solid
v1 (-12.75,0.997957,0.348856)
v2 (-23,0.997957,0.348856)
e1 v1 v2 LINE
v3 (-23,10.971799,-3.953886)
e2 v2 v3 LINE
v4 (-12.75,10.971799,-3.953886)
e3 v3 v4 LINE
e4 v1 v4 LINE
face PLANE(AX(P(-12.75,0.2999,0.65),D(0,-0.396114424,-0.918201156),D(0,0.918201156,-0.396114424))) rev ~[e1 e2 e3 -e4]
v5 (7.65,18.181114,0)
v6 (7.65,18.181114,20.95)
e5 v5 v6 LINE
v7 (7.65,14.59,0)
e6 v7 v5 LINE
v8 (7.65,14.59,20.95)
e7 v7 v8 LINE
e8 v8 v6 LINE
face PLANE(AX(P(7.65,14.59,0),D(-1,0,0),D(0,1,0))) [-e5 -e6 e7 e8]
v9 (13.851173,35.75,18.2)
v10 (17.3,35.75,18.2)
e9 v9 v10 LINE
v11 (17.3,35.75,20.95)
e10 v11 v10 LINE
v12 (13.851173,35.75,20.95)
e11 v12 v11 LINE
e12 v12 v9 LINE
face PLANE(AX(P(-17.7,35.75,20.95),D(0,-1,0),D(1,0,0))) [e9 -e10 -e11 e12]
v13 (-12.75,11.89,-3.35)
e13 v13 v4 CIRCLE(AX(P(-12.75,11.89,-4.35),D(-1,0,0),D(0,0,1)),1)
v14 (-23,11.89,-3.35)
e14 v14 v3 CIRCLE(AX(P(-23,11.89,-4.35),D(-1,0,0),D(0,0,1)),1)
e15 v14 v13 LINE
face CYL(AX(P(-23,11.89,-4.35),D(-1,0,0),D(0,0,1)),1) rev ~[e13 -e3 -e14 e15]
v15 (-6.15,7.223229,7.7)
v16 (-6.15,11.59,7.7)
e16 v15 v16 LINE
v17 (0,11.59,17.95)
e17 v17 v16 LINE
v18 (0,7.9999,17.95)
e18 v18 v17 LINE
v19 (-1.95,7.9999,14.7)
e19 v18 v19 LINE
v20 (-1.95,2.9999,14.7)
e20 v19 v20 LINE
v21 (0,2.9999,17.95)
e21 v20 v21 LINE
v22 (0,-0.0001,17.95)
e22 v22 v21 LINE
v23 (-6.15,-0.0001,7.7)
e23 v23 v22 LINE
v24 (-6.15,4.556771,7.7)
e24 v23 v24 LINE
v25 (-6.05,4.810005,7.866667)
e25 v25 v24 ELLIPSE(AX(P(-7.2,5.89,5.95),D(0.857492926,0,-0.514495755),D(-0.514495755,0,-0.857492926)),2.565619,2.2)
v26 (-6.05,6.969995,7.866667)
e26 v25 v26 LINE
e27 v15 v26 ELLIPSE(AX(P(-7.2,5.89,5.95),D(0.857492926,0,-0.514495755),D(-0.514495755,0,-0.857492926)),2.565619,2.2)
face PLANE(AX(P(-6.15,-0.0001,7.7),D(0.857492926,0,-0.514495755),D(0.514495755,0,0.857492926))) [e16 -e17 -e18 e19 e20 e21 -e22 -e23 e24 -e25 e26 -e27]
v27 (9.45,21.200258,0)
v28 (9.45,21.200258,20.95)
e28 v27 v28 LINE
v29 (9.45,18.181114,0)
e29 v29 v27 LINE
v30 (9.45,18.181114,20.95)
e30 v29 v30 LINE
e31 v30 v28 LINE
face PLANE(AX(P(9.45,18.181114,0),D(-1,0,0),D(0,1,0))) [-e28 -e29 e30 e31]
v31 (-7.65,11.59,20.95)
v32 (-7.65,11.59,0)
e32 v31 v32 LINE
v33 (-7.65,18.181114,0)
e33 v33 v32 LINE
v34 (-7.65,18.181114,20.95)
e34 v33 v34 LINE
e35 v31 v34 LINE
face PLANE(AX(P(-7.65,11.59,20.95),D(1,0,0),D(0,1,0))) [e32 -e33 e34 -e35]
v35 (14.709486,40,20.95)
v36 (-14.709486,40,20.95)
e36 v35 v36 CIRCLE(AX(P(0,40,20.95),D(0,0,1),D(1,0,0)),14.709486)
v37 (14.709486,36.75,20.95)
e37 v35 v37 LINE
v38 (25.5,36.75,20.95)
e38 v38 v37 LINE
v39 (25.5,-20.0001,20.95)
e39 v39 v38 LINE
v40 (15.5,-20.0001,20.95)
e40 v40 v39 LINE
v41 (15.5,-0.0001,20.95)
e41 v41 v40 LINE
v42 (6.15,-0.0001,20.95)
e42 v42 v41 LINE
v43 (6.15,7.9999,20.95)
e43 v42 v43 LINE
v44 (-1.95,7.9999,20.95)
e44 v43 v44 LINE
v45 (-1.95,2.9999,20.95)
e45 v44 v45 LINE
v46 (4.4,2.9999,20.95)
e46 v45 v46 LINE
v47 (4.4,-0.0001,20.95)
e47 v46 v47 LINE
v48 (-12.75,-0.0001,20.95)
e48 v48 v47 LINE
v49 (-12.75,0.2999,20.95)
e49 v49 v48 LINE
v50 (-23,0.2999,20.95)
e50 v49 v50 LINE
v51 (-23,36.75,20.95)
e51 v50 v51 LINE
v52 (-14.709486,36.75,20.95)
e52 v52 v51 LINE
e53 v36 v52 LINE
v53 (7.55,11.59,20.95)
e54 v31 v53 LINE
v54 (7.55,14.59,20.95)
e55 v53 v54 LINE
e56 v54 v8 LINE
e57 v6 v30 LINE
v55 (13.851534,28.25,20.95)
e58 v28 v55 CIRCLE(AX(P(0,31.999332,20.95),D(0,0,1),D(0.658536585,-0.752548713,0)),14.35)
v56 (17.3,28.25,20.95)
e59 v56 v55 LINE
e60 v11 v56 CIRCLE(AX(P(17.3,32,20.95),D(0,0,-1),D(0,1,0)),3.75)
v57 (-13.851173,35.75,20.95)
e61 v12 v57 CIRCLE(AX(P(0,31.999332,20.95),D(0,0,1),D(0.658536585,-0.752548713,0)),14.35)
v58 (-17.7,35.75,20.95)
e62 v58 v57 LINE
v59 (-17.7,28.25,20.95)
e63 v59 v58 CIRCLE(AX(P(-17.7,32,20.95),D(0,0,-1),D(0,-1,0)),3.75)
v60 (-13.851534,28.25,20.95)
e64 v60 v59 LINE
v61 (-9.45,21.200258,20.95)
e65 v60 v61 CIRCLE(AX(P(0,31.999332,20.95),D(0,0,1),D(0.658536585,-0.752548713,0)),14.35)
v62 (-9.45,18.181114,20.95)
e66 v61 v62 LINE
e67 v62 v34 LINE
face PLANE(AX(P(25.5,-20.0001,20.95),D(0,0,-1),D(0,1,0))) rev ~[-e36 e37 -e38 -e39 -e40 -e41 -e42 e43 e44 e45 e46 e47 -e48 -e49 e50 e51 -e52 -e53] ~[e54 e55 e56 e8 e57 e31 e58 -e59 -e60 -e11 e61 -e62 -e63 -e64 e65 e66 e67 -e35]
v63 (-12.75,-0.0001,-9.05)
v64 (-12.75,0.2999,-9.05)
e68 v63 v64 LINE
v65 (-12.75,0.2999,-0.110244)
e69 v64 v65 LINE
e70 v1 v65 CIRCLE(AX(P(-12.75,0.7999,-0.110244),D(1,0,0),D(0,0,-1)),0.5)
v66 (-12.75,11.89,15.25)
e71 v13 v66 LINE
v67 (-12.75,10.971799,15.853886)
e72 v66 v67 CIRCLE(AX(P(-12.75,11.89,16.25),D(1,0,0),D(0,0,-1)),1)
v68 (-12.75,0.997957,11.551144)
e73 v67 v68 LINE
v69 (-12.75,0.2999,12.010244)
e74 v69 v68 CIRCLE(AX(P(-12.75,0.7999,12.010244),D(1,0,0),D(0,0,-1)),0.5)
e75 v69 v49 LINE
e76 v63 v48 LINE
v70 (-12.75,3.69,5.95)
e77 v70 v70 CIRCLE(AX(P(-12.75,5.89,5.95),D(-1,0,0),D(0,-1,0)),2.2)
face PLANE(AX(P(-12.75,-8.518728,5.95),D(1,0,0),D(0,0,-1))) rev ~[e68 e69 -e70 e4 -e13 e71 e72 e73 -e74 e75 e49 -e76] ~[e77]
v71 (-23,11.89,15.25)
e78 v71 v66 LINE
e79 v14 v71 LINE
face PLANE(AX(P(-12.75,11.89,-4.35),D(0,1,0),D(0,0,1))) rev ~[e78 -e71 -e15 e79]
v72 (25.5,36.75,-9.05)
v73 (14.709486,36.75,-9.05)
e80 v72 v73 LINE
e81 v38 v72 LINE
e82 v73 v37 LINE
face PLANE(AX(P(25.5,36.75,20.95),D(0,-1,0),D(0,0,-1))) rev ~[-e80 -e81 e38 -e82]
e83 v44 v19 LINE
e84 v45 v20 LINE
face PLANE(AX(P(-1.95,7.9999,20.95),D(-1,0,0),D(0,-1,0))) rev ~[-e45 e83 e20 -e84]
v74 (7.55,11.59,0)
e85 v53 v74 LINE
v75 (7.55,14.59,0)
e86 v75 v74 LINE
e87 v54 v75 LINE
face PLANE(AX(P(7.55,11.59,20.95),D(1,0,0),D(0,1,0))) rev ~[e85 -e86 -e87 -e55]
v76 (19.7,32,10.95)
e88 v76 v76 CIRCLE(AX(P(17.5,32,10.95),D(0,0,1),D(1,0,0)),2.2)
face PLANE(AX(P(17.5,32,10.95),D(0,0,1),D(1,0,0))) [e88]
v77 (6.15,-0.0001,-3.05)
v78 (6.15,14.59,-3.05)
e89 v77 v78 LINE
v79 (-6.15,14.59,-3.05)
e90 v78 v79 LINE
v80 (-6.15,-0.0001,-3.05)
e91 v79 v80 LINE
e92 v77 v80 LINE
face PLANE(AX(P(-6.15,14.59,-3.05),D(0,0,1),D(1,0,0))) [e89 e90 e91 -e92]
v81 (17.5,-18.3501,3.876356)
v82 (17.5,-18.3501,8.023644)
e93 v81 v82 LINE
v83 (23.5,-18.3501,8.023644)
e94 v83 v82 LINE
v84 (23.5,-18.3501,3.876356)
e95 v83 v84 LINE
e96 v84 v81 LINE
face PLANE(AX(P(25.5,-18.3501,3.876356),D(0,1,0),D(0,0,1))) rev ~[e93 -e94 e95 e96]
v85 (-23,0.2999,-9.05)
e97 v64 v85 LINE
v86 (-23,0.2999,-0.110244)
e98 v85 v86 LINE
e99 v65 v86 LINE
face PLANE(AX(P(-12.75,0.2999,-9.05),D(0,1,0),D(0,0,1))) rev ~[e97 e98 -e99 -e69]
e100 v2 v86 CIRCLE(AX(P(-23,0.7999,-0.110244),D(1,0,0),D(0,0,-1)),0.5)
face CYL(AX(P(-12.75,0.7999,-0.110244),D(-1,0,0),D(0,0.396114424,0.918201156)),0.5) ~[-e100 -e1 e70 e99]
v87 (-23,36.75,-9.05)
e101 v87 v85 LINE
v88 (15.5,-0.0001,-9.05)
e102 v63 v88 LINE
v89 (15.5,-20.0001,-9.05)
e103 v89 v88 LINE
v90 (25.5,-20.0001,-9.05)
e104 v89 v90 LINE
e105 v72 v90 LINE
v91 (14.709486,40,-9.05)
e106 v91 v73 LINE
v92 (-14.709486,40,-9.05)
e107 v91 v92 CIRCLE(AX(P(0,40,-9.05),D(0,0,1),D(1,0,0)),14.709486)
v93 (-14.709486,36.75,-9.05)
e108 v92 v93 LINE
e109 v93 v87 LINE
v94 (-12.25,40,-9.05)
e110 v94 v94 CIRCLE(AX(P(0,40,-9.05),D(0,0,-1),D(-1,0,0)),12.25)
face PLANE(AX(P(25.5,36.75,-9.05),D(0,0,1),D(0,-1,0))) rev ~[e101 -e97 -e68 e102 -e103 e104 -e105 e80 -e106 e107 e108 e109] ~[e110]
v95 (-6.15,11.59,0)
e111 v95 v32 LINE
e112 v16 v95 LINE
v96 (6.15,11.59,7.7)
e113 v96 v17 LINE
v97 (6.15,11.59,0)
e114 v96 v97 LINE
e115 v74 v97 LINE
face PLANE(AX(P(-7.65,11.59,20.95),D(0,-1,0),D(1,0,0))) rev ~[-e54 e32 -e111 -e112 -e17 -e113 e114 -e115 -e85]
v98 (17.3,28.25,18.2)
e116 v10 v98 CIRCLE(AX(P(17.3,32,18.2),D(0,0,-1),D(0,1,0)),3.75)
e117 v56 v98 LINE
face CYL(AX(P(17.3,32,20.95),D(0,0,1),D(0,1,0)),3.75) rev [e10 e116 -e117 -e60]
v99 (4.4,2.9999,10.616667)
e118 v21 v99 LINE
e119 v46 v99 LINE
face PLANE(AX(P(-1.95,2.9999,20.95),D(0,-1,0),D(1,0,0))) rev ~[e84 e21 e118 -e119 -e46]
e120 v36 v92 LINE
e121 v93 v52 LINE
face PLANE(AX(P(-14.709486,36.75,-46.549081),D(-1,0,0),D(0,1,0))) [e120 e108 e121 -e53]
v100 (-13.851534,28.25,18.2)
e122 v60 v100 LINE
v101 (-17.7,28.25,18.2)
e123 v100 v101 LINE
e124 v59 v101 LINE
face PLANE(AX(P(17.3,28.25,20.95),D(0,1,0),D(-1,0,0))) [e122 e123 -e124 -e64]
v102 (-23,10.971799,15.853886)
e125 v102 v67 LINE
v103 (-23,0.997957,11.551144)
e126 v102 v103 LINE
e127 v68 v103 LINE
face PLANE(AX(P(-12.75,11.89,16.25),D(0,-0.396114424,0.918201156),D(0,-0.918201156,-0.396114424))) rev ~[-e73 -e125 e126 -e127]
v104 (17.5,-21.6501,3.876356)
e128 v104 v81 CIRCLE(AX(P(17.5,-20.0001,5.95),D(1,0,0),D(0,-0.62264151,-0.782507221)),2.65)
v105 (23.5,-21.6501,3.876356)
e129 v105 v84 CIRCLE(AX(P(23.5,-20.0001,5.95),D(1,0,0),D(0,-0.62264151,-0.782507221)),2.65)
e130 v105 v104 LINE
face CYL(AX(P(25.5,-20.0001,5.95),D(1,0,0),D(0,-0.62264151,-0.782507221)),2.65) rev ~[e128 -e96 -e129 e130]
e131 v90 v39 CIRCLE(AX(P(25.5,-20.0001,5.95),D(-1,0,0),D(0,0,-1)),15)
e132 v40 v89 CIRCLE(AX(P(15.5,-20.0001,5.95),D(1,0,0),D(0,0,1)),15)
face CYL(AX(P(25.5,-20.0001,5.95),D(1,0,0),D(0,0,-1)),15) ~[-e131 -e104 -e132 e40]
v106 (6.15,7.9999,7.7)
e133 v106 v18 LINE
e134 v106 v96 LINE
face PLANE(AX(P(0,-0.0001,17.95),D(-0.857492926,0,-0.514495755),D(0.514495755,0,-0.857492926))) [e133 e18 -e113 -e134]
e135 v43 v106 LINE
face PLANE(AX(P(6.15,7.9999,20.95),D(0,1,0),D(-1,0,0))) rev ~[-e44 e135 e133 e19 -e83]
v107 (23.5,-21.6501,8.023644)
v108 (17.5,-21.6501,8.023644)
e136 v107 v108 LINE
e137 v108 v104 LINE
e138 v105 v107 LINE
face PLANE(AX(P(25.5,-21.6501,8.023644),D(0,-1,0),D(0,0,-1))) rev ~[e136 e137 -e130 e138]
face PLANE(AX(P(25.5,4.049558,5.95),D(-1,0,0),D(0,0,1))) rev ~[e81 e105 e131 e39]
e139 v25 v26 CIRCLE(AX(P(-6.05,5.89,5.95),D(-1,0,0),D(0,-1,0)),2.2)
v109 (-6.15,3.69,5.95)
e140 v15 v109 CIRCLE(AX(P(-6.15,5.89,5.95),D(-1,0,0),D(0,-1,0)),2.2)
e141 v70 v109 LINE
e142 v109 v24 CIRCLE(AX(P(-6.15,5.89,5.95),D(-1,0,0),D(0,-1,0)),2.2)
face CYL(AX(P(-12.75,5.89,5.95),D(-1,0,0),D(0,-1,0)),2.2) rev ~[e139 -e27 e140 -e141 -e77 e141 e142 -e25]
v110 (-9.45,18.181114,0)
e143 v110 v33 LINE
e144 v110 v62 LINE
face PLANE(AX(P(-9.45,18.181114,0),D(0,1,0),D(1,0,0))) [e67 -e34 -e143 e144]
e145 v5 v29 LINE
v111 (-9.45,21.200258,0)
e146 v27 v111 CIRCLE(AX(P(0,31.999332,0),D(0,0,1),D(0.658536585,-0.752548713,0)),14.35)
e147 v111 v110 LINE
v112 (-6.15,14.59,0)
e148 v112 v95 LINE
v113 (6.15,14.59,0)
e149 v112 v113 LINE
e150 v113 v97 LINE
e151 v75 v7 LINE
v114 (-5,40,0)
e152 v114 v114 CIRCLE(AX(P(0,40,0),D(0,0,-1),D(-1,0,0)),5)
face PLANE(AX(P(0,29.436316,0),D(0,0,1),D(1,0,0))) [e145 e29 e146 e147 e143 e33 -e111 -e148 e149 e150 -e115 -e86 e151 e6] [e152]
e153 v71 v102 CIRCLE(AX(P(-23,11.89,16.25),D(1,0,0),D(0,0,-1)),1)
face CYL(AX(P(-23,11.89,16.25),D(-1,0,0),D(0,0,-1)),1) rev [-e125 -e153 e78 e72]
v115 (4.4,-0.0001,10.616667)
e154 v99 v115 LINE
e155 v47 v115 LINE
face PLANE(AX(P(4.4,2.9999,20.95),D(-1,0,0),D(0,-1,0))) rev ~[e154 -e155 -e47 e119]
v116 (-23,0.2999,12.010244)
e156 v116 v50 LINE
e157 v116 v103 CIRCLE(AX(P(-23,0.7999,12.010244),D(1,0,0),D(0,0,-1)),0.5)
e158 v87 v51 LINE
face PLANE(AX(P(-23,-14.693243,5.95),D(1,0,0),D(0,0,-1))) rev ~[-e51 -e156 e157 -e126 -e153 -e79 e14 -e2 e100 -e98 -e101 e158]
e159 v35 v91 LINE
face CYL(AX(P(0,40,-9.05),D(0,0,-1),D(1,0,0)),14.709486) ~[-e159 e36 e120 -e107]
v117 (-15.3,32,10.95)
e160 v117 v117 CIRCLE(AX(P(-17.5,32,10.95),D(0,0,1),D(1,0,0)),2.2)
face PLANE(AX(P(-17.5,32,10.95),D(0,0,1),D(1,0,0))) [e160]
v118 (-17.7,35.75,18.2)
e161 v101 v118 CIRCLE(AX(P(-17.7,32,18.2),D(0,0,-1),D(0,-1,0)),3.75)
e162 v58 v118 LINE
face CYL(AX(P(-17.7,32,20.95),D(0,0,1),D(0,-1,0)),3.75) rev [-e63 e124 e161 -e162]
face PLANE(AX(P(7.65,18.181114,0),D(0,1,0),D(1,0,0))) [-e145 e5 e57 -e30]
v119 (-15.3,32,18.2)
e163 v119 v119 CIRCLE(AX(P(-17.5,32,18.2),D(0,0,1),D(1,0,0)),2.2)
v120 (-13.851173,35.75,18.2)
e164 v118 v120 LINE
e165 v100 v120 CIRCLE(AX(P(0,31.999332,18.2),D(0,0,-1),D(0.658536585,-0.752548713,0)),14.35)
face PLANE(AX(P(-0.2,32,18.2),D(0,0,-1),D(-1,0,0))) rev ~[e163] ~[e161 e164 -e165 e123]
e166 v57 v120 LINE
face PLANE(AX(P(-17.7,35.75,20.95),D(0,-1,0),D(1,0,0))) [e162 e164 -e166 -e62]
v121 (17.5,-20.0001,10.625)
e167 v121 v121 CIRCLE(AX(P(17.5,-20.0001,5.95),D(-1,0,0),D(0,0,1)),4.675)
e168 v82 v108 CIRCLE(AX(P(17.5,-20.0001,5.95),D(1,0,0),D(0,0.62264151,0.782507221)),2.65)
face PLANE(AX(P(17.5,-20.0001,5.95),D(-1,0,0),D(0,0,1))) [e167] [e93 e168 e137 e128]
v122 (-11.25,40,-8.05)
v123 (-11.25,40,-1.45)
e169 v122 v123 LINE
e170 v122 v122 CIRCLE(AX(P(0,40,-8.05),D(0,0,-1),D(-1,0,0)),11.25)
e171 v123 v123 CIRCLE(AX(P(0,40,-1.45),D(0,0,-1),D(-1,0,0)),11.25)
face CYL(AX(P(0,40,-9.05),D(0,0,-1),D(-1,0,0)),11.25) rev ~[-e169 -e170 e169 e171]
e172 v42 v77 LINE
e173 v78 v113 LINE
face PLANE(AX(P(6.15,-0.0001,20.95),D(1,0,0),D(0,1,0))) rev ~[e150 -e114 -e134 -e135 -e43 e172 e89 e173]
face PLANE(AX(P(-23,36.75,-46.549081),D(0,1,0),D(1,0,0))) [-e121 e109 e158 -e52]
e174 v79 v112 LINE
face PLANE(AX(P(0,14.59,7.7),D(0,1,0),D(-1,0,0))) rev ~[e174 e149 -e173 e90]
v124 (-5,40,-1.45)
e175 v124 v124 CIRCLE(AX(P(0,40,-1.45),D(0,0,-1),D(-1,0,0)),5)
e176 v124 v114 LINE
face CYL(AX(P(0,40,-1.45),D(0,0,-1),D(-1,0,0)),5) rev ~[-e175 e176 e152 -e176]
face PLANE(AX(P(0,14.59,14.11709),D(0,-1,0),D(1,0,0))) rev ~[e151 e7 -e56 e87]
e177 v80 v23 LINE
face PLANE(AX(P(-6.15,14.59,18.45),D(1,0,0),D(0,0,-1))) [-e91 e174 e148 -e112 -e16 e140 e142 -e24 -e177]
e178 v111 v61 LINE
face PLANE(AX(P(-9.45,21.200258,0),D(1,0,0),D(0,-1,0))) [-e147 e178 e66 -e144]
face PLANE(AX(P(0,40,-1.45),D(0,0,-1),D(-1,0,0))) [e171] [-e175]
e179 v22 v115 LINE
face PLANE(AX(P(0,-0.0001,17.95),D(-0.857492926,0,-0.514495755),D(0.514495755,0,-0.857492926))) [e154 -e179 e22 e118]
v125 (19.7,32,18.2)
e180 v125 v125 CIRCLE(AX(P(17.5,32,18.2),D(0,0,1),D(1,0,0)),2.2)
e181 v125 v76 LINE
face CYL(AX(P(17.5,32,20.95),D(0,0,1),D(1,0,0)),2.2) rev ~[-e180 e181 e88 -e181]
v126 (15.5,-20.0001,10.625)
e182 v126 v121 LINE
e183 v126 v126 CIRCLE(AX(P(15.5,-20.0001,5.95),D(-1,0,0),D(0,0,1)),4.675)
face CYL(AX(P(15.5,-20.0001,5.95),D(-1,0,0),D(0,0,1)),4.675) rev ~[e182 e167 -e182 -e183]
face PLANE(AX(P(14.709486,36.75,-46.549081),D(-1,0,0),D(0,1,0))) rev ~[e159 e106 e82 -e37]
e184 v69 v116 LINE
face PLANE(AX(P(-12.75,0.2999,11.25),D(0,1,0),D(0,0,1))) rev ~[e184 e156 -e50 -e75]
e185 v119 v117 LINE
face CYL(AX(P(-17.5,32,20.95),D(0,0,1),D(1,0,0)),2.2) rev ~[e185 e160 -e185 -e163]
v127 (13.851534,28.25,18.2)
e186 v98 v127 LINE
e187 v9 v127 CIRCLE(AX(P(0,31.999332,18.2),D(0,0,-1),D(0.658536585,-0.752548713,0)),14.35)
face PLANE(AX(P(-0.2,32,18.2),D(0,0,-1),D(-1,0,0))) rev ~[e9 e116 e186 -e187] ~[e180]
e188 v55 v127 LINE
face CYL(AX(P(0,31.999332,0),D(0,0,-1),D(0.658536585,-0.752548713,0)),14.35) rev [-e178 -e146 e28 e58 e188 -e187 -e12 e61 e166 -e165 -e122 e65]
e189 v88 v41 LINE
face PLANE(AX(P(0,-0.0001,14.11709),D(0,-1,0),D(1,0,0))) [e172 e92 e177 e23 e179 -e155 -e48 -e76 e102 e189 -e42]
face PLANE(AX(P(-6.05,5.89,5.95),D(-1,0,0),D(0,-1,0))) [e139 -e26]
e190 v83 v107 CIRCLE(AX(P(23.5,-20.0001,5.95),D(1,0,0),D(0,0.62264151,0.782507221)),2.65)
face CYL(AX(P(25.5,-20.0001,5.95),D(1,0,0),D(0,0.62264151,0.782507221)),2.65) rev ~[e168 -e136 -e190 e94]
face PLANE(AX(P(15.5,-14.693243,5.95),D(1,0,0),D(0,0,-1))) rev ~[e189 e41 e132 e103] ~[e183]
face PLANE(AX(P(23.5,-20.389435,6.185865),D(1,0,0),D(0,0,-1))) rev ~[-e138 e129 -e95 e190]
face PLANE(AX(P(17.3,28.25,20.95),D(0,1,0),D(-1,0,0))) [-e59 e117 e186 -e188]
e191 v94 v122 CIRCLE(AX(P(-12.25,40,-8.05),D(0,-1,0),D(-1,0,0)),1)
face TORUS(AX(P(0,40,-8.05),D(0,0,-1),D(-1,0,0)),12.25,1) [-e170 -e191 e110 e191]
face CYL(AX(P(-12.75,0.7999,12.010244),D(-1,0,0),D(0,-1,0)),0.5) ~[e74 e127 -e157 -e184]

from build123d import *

# Parameters (mm, degrees)
BOSS_EXTRUDE1_DEPTH     = 20.95
BOSS_EXTRUDE2_START     = -9.05
BOSS_EXTRUDE2_DEPTH     = 9.05
SKETCH6_R               = 2.2
CUT_EXTRUDE2_DEPTH      = 10
CUT_EXTRUDE3_DEPTH      = 2.75
CUT_EXTRUDE4_DEPTH      = 67.499081444
CUT_EXTRUDE4_DEPTH_BACK = 67.499081444
SKETCH8_W               = 8.290514233
SKETCH8_H               = 3.25
SKETCH11_R              = 11.25
BEARING_HOLE_DEPTH      = 7.6
SKETCH9_W               = 12.3
SKETCH9_H               = 21.5
WIRE_HOLE_DEPTH         = 62.274898109
SKETCH12_W              = 46
SKETCH12_H              = 30
BOSS_EXTRUDE3_DEPTH     = 0.0001
BOSS_EXTRUDE4_DEPTH     = 7.5
BOSS_EXTRUDE5_START     = -7.5
BOSS_EXTRUDE5_DEPTH     = 7.5
BOSS_EXTRUDE9_START     = 2.5
BOSS_EXTRUDE9_DEPTH     = 2.5
SKETCH15_R              = 4
CUT_EXTRUDE5_DEPTH      = 77.054456365
SKETCH17_R              = 6.169612062
SHAT_HOLE_DEPTH         = 10
SKETCH18_R              = 4
BOSS_EXTRUDE7_DEPTH     = 14
SKETCH19_R              = 4.675
CUT_EXTRUDE6_DEPTH      = 2
SKETCH24_R              = 5
CUT_EXTRUDE7_DEPTH      = 65.382744838
FILLET1_R               = 1
SKETCH25_W              = 8.843315878
SKETCH25_H              = 4.834346013
BOSS_EXTRUDE10_DEPTH    = 2
SKETCH27_W              = 12.3
SKETCH27_H              = 21.5
CUT_EXTRUDE8_DEPTH      = 60.56786481
BOSS_EXTRUDE11_DEPTH    = 14.5901
CUT_EXTRUDE9_REACH      = 69.405
SKETCH29_W              = 15.2
SKETCH29_H              = 3
CUT_EXTRUDE14_START     = -10.25
CUT_EXTRUDE14_DEPTH     = 10.25
SKETCH34_R              = 6.901355235
CUT_EXTRUDE15_DEPTH     = 5
FILLET2_R               = 0.5
SKETCH35_R              = 2.2
CUT_EXTRUDE16_DEPTH     = 6.7
CUT_EXTRUDE17_DEPTH     = 10.25
CUT_EXTRUDE18_REACH     = 69.405


with BuildPart() as part:
    # Sketch2 → Boss-Extrude1 (new body)
    with BuildSketch(Plane.XY):
        with BuildLine():
            Line((-14.709485767, 40), (-23, 40))
            Line((-23, 40), (-23, 0))
            Line((-23, 0), (23, 0))
            Line((23, 0), (23, 40))
            Line((23, 40), (14.709485767, 40))
            ThreePointArc((14.709485767, 40), (0, 54.709485767), (-14.709485767, 40))
        make_face()
        with BuildLine():
            Line((-7.65, 18.18111404), (-7.65, 14.59))
            Line((-7.65, 14.59), (7.65, 14.59))
            Line((7.65, 14.59), (7.65, 18.18111404))
            Line((7.65, 18.18111404), (9.45, 18.18111404))
            Line((9.45, 18.18111404), (9.45, 21.20025831))
            ThreePointArc((9.45, 21.20025831), (0, 46.349332344), (-9.45, 21.20025831))
            Line((-9.45, 21.20025831), (-9.45, 18.18111404))
            Line((-9.45, 18.18111404), (-7.65, 18.18111404))
        make_face(mode=Mode.SUBTRACT)
    extrude(amount=BOSS_EXTRUDE1_DEPTH)

    # Sketch3 → Boss-Extrude2 (add)
    with BuildSketch(Plane.XY.offset(BOSS_EXTRUDE2_START)):
        with BuildLine():
            Line((-14.709485767, 40), (-23, 40))
            Line((-23, 40), (-23, 0))
            Line((-23, 0), (23, 0))
            Line((23, 0), (23, 40))
            Line((23, 40), (14.709485767, 40))
            ThreePointArc((14.709485767, 40), (0, 54.709485767), (-14.709485767, 40))
        make_face()
    extrude(amount=BOSS_EXTRUDE2_DEPTH)

    # Sketch6 → Cut-Extrude2 (cut)
    with BuildSketch(Plane.XY.offset(20.95)):
        with Locations((-17.5, 32)):
            Circle(SKETCH6_R)
        with Locations((17.5, 32)):
            Circle(SKETCH6_R)
    extrude(amount=-CUT_EXTRUDE2_DEPTH, mode=Mode.SUBTRACT)

    # Sketch7 → Cut-Extrude3 (cut)
    with BuildSketch(Plane.XY.offset(20.95)):
        with BuildLine():
            Line((-17.7, 35.75), (17.3, 35.75))
            ThreePointArc((17.3, 35.75), (21.05, 32), (17.3, 28.25))
            Line((17.3, 28.25), (-17.7, 28.25))
            ThreePointArc((-17.7, 28.25), (-21.45, 32), (-17.7, 35.75))
        make_face()
    extrude(amount=-CUT_EXTRUDE3_DEPTH, mode=Mode.SUBTRACT)

    # Sketch8 → Cut-Extrude4 (cut, two sides: drawn at the far end of the back side and taken through both)
    with BuildSketch(Plane.XY.offset(20.95).offset(-CUT_EXTRUDE4_DEPTH_BACK)):
        with Locations((-18.854742884, 38.375)):
            Rectangle(SKETCH8_W, SKETCH8_H)
        with Locations((18.854742884, 38.375)):
            Rectangle(SKETCH8_W, SKETCH8_H)
    extrude(amount=CUT_EXTRUDE4_DEPTH + CUT_EXTRUDE4_DEPTH_BACK, mode=Mode.SUBTRACT)

    # Sketch11 → Bearing Hole (cut)
    with BuildSketch(Plane(origin=(0, 0, -9.05), x_dir=(-1, 0, 0), z_dir=(0, 0, -1))):
        with Locations((0, 40)):
            Circle(SKETCH11_R)
    extrude(amount=-BEARING_HOLE_DEPTH, mode=Mode.SUBTRACT)

    # Sketch9 → Wire Hole (cut, through all)
    with BuildSketch(Plane(origin=(0, 14.59, -19.25), x_dir=(-1, 0, 0), z_dir=(0, 1, 0))):
        with Locations((0, 26.95)):
            Rectangle(SKETCH9_W, SKETCH9_H)
    extrude(amount=-WIRE_HOLE_DEPTH, mode=Mode.SUBTRACT)

    # Sketch12 → Boss-Extrude3 (add)
    with BuildSketch(Plane.XZ):
        with Locations((0, 5.95)):
            Rectangle(SKETCH12_W, SKETCH12_H)
    extrude(amount=BOSS_EXTRUDE3_DEPTH)

    # Sketch13 → Boss-Extrude4 (add)
    with BuildSketch(Plane(origin=(23, 0, 0), x_dir=(0, 0, -1), z_dir=(1, 0, 0))):
        with BuildLine():
            Line((-20.95, -0.0001), (-20.95, -20.0001))
            ThreePointArc((-20.95, -20.0001), (-5.95, -35.0001), (9.05, -20.0001))
            Line((9.05, -20.0001), (9.05, -0.0001))
            Line((9.05, -0.0001), (-20.95, -0.0001))
        make_face()
    extrude(amount=-BOSS_EXTRUDE4_DEPTH)

    # Sketch14 → Boss-Extrude5 (add)
    with BuildSketch(Plane.ZY.offset(23).offset(BOSS_EXTRUDE5_START)):
        with BuildLine():
            Line((-9.05, -20.0001), (-9.05, -0.0001))
            Line((-9.05, -0.0001), (20.95, -0.0001))
            Line((20.95, -0.0001), (20.95, -20.0001))
            ThreePointArc((20.95, -20.0001), (5.95, -35.0001), (-9.05, -20.0001))
        make_face()
    extrude(amount=BOSS_EXTRUDE5_DEPTH)

    # Sketch21 → Boss-Extrude9 (add)
    with BuildSketch(Plane(origin=(23, 0, 0), x_dir=(0, 0, -1), z_dir=(1, 0, 0)).offset(BOSS_EXTRUDE9_START)):
        with BuildLine():
            Line((-20.95, -20.0001), (-20.95, 36.75))
            Line((-20.95, 36.75), (9.05, 36.75))
            Line((9.05, 36.75), (9.05, -20.0001))
            ThreePointArc((9.05, -20.0001), (-5.95, -35.0001), (-20.95, -20.0001))
        make_face()
    extrude(amount=-BOSS_EXTRUDE9_DEPTH)

    # Sketch15 → Cut-Extrude5 (cut, through all)
    with BuildSketch(Plane.ZY.offset(23)):
        with Locations(Location((5.95, -20.0001, 0), (0, 0, 270))):
            Circle(SKETCH15_R)
    extrude(amount=-CUT_EXTRUDE5_DEPTH, mode=Mode.SUBTRACT)

    # Sketch17 → Shat hole (add)
    with BuildSketch(Plane(origin=(25.5, 0, -23), x_dir=(0, 0, 1), z_dir=(-1, 0, 0))):
        with Locations((28.95, -20.0001)):
            Circle(SKETCH17_R)
        with BuildLine():
            Line((26.876355865, -18.3501), (31.023644135, -18.3501))
            ThreePointArc((31.023644135, -18.3501), (31.6, -20.0001), (31.023644135, -21.6501))
            Line((31.023644135, -21.6501), (26.876355865, -21.6501))
            ThreePointArc((26.876355865, -21.6501), (26.3, -20.0001), (26.876355865, -18.3501))
        make_face(mode=Mode.SUBTRACT)
    extrude(amount=SHAT_HOLE_DEPTH)

    # Sketch18 → Boss-Extrude7 (add)
    with BuildSketch(Plane.ZY.offset(23)):
        with Locations(Location((5.95, -20.0001, 0), (0, 0, 270))):
            Circle(SKETCH18_R)
    extrude(amount=-BOSS_EXTRUDE7_DEPTH)

    # Sketch19 → Cut-Extrude6 (cut)
    with BuildSketch(Plane.ZY.offset(-15.5)):
        with Locations((5.95, -20.0001)):
            Circle(SKETCH19_R)
    extrude(amount=-CUT_EXTRUDE6_DEPTH, mode=Mode.SUBTRACT)

    # Sketch24 → Cut-Extrude7 (cut, through all)
    with BuildSketch(Plane(origin=(0, 0, -1.45), x_dir=(-1, 0, 0), z_dir=(0, 0, -1))):
        with Locations((0, 40)):
            Circle(SKETCH24_R)
    extrude(amount=-CUT_EXTRUDE7_DEPTH, mode=Mode.SUBTRACT)

    # Fillet1
    fillet1_edges = [part.edges().sort_by_distance(p)[0] for p in [
        (11.25, 40, -9.05),
    ]]
    fillet(fillet1_edges, radius=FILLET1_R)

    # Sketch25 → Boss-Extrude10 (add)
    with BuildSketch(Plane(origin=(25.5, 0, 0), x_dir=(0, 0, -1), z_dir=(1, 0, 0))):
        with Locations((-6.185865257, -20.38943492)):
            Rectangle(SKETCH25_W, SKETCH25_H)
    extrude(amount=-BOSS_EXTRUDE10_DEPTH)

    # Sketch27 → Cut-Extrude8 (cut, through all)
    with BuildSketch(Plane(origin=(0, 14.59, 0), x_dir=(1, 0, 0), z_dir=(0, 1, 0))):
        with Locations((0, -7.7)):
            Rectangle(SKETCH27_W, SKETCH27_H)
    extrude(amount=-CUT_EXTRUDE8_DEPTH, mode=Mode.SUBTRACT)

    # Sketch28 → Boss-Extrude11 (add)
    with BuildSketch(Plane.XZ.offset(0.0001)):
        Polygon((-6.15, 7.7), (0, 17.95), (6.15, 7.7), (6.15, 18.45), (-6.15, 18.45), align=None)
    extrude(amount=-BOSS_EXTRUDE11_DEPTH)

    # Cut-Extrude9: up to this face of the body (flat: up to its plane)
    cut_extrude9_end = Plane(part.part.faces().sort_by_distance((0, 29.436315862, 0))[0])
    # Sketch29 → Cut-Extrude9 (cut, up to the picked face)
    with BuildSketch(Plane.XY.offset(20.95), mode=Mode.PRIVATE) as cut_extrude9_sk1:
        with Locations((-0.05, 13.09)):
            Rectangle(SKETCH29_W, SKETCH29_H)
    cut_extrude9_tool1 = split(extrude(cut_extrude9_sk1.sketch, amount=-CUT_EXTRUDE9_REACH, mode=Mode.PRIVATE), bisect_by=cut_extrude9_end, keep=Keep.BOTH, mode=Mode.PRIVATE)
    add(cut_extrude9_tool1.solids().sort_by(Axis((-0.05, 13.09, 20.95), (0, 0, -1)))[0], mode=Mode.SUBTRACT)

    # Sketch33 → Cut-Extrude14 (cut)
    with BuildSketch(Plane.ZY.offset(23).offset(CUT_EXTRUDE14_START)):
        with BuildLine():
            Line((-4.35, 11.89), (16.25, 11.89))
            Line((16.25, 11.89), (11.25, 0.2999))
            Line((11.25, 0.2999), (20.95, 0.2999))
            Line((20.95, 0.2999), (20.95, -20.0001))
            ThreePointArc((20.95, -20.0001), (5.95, -35.0001), (-9.05, -20.0001))
            Line((-9.05, -20.0001), (-9.05, 0.2999))
            Line((-9.05, 0.2999), (0.65, 0.2999))
            Line((0.65, 0.2999), (-4.35, 11.89))
        make_face()
    extrude(amount=CUT_EXTRUDE14_DEPTH, mode=Mode.SUBTRACT)


with BuildPart() as cut_extrude14_piece_1:
    # of the separate pieces the step leaves, piece 1, a body of its own (cut_extrude14_pieces)
    add(part.part.solids().sort_by_distance((14.709485767, 40, -9.05))[0])

    # Fillet2
    fillet2_edges = [cut_extrude14_piece_1.edges().sort_by_distance(p)[0] for p in [
        (-17.875, 0.2999, 11.25),
        (-17.875, 0.2999, 0.65),
    ]]
    fillet(fillet2_edges, radius=FILLET2_R)

    # Sketch35 → Cut-Extrude16 (cut)
    with BuildSketch(Plane.ZY.offset(12.75)):
        with Locations(Location((5.95, 5.89, 0), (0, 0, 270))):
            Circle(SKETCH35_R)
    extrude(amount=-CUT_EXTRUDE16_DEPTH, mode=Mode.SUBTRACT)

    # Sketch36 → Cut-Extrude17 (cut)
    with BuildSketch(Plane.ZY.offset(23)):
        with BuildLine():
            Line((-3.953885576, 10.971798844), (-4.35, 11.89))
            Line((-4.35, 11.89), (-3.35, 11.89))
            ThreePointArc((-3.35, 11.89), (-5.185498182, 12.43949321), (-3.953885576, 10.971798844))
        make_face()
        with BuildLine():
            Line((15.853885576, 10.971798844), (16.25, 11.89))
            Line((16.25, 11.89), (15.25, 11.89))
            ThreePointArc((15.25, 11.89), (17.085498182, 12.43949321), (15.853885576, 10.971798844))
        make_face()
    extrude(amount=-CUT_EXTRUDE17_DEPTH, mode=Mode.SUBTRACT)

    # Sketch37 → Cut-Extrude18 (cut, up to next)
    with BuildSketch(Plane.XY.offset(20.95), mode=Mode.PRIVATE) as cut_extrude18_sk1:
        Polygon((6.15, -0.0001), (6.15, 7.9999), (-1.95, 7.9999), (-1.95, 2.9999), (4.4, 2.9999), (4.4, -0.0001), align=None)
    cut_extrude18_tool1 = extrude(cut_extrude18_sk1.sketch, amount=-CUT_EXTRUDE18_REACH, mode=Mode.PRIVATE) & cut_extrude14_piece_1.part
    add(cut_extrude18_tool1.solids().sort_by_distance((2.464344, 5.040884, 20.95))[0], mode=Mode.SUBTRACT)


with BuildPart() as cut_extrude14_piece_2:
    # of the separate pieces the step leaves, piece 2, a body of its own (cut_extrude14_pieces)
    add(part.part.solids().sort_by_distance((-12.75, -24.0001, 5.95))[0])

    # Sketch34 → Cut-Extrude15 (cut)
    with BuildSketch(Plane.ZY.offset(12.75)):
        with Locations((5.95, -20.0001)):
            Circle(SKETCH34_R)
    extrude(amount=-CUT_EXTRUDE15_DEPTH, mode=Mode.SUBTRACT)


solid = cut_extrude14_piece_1.part
